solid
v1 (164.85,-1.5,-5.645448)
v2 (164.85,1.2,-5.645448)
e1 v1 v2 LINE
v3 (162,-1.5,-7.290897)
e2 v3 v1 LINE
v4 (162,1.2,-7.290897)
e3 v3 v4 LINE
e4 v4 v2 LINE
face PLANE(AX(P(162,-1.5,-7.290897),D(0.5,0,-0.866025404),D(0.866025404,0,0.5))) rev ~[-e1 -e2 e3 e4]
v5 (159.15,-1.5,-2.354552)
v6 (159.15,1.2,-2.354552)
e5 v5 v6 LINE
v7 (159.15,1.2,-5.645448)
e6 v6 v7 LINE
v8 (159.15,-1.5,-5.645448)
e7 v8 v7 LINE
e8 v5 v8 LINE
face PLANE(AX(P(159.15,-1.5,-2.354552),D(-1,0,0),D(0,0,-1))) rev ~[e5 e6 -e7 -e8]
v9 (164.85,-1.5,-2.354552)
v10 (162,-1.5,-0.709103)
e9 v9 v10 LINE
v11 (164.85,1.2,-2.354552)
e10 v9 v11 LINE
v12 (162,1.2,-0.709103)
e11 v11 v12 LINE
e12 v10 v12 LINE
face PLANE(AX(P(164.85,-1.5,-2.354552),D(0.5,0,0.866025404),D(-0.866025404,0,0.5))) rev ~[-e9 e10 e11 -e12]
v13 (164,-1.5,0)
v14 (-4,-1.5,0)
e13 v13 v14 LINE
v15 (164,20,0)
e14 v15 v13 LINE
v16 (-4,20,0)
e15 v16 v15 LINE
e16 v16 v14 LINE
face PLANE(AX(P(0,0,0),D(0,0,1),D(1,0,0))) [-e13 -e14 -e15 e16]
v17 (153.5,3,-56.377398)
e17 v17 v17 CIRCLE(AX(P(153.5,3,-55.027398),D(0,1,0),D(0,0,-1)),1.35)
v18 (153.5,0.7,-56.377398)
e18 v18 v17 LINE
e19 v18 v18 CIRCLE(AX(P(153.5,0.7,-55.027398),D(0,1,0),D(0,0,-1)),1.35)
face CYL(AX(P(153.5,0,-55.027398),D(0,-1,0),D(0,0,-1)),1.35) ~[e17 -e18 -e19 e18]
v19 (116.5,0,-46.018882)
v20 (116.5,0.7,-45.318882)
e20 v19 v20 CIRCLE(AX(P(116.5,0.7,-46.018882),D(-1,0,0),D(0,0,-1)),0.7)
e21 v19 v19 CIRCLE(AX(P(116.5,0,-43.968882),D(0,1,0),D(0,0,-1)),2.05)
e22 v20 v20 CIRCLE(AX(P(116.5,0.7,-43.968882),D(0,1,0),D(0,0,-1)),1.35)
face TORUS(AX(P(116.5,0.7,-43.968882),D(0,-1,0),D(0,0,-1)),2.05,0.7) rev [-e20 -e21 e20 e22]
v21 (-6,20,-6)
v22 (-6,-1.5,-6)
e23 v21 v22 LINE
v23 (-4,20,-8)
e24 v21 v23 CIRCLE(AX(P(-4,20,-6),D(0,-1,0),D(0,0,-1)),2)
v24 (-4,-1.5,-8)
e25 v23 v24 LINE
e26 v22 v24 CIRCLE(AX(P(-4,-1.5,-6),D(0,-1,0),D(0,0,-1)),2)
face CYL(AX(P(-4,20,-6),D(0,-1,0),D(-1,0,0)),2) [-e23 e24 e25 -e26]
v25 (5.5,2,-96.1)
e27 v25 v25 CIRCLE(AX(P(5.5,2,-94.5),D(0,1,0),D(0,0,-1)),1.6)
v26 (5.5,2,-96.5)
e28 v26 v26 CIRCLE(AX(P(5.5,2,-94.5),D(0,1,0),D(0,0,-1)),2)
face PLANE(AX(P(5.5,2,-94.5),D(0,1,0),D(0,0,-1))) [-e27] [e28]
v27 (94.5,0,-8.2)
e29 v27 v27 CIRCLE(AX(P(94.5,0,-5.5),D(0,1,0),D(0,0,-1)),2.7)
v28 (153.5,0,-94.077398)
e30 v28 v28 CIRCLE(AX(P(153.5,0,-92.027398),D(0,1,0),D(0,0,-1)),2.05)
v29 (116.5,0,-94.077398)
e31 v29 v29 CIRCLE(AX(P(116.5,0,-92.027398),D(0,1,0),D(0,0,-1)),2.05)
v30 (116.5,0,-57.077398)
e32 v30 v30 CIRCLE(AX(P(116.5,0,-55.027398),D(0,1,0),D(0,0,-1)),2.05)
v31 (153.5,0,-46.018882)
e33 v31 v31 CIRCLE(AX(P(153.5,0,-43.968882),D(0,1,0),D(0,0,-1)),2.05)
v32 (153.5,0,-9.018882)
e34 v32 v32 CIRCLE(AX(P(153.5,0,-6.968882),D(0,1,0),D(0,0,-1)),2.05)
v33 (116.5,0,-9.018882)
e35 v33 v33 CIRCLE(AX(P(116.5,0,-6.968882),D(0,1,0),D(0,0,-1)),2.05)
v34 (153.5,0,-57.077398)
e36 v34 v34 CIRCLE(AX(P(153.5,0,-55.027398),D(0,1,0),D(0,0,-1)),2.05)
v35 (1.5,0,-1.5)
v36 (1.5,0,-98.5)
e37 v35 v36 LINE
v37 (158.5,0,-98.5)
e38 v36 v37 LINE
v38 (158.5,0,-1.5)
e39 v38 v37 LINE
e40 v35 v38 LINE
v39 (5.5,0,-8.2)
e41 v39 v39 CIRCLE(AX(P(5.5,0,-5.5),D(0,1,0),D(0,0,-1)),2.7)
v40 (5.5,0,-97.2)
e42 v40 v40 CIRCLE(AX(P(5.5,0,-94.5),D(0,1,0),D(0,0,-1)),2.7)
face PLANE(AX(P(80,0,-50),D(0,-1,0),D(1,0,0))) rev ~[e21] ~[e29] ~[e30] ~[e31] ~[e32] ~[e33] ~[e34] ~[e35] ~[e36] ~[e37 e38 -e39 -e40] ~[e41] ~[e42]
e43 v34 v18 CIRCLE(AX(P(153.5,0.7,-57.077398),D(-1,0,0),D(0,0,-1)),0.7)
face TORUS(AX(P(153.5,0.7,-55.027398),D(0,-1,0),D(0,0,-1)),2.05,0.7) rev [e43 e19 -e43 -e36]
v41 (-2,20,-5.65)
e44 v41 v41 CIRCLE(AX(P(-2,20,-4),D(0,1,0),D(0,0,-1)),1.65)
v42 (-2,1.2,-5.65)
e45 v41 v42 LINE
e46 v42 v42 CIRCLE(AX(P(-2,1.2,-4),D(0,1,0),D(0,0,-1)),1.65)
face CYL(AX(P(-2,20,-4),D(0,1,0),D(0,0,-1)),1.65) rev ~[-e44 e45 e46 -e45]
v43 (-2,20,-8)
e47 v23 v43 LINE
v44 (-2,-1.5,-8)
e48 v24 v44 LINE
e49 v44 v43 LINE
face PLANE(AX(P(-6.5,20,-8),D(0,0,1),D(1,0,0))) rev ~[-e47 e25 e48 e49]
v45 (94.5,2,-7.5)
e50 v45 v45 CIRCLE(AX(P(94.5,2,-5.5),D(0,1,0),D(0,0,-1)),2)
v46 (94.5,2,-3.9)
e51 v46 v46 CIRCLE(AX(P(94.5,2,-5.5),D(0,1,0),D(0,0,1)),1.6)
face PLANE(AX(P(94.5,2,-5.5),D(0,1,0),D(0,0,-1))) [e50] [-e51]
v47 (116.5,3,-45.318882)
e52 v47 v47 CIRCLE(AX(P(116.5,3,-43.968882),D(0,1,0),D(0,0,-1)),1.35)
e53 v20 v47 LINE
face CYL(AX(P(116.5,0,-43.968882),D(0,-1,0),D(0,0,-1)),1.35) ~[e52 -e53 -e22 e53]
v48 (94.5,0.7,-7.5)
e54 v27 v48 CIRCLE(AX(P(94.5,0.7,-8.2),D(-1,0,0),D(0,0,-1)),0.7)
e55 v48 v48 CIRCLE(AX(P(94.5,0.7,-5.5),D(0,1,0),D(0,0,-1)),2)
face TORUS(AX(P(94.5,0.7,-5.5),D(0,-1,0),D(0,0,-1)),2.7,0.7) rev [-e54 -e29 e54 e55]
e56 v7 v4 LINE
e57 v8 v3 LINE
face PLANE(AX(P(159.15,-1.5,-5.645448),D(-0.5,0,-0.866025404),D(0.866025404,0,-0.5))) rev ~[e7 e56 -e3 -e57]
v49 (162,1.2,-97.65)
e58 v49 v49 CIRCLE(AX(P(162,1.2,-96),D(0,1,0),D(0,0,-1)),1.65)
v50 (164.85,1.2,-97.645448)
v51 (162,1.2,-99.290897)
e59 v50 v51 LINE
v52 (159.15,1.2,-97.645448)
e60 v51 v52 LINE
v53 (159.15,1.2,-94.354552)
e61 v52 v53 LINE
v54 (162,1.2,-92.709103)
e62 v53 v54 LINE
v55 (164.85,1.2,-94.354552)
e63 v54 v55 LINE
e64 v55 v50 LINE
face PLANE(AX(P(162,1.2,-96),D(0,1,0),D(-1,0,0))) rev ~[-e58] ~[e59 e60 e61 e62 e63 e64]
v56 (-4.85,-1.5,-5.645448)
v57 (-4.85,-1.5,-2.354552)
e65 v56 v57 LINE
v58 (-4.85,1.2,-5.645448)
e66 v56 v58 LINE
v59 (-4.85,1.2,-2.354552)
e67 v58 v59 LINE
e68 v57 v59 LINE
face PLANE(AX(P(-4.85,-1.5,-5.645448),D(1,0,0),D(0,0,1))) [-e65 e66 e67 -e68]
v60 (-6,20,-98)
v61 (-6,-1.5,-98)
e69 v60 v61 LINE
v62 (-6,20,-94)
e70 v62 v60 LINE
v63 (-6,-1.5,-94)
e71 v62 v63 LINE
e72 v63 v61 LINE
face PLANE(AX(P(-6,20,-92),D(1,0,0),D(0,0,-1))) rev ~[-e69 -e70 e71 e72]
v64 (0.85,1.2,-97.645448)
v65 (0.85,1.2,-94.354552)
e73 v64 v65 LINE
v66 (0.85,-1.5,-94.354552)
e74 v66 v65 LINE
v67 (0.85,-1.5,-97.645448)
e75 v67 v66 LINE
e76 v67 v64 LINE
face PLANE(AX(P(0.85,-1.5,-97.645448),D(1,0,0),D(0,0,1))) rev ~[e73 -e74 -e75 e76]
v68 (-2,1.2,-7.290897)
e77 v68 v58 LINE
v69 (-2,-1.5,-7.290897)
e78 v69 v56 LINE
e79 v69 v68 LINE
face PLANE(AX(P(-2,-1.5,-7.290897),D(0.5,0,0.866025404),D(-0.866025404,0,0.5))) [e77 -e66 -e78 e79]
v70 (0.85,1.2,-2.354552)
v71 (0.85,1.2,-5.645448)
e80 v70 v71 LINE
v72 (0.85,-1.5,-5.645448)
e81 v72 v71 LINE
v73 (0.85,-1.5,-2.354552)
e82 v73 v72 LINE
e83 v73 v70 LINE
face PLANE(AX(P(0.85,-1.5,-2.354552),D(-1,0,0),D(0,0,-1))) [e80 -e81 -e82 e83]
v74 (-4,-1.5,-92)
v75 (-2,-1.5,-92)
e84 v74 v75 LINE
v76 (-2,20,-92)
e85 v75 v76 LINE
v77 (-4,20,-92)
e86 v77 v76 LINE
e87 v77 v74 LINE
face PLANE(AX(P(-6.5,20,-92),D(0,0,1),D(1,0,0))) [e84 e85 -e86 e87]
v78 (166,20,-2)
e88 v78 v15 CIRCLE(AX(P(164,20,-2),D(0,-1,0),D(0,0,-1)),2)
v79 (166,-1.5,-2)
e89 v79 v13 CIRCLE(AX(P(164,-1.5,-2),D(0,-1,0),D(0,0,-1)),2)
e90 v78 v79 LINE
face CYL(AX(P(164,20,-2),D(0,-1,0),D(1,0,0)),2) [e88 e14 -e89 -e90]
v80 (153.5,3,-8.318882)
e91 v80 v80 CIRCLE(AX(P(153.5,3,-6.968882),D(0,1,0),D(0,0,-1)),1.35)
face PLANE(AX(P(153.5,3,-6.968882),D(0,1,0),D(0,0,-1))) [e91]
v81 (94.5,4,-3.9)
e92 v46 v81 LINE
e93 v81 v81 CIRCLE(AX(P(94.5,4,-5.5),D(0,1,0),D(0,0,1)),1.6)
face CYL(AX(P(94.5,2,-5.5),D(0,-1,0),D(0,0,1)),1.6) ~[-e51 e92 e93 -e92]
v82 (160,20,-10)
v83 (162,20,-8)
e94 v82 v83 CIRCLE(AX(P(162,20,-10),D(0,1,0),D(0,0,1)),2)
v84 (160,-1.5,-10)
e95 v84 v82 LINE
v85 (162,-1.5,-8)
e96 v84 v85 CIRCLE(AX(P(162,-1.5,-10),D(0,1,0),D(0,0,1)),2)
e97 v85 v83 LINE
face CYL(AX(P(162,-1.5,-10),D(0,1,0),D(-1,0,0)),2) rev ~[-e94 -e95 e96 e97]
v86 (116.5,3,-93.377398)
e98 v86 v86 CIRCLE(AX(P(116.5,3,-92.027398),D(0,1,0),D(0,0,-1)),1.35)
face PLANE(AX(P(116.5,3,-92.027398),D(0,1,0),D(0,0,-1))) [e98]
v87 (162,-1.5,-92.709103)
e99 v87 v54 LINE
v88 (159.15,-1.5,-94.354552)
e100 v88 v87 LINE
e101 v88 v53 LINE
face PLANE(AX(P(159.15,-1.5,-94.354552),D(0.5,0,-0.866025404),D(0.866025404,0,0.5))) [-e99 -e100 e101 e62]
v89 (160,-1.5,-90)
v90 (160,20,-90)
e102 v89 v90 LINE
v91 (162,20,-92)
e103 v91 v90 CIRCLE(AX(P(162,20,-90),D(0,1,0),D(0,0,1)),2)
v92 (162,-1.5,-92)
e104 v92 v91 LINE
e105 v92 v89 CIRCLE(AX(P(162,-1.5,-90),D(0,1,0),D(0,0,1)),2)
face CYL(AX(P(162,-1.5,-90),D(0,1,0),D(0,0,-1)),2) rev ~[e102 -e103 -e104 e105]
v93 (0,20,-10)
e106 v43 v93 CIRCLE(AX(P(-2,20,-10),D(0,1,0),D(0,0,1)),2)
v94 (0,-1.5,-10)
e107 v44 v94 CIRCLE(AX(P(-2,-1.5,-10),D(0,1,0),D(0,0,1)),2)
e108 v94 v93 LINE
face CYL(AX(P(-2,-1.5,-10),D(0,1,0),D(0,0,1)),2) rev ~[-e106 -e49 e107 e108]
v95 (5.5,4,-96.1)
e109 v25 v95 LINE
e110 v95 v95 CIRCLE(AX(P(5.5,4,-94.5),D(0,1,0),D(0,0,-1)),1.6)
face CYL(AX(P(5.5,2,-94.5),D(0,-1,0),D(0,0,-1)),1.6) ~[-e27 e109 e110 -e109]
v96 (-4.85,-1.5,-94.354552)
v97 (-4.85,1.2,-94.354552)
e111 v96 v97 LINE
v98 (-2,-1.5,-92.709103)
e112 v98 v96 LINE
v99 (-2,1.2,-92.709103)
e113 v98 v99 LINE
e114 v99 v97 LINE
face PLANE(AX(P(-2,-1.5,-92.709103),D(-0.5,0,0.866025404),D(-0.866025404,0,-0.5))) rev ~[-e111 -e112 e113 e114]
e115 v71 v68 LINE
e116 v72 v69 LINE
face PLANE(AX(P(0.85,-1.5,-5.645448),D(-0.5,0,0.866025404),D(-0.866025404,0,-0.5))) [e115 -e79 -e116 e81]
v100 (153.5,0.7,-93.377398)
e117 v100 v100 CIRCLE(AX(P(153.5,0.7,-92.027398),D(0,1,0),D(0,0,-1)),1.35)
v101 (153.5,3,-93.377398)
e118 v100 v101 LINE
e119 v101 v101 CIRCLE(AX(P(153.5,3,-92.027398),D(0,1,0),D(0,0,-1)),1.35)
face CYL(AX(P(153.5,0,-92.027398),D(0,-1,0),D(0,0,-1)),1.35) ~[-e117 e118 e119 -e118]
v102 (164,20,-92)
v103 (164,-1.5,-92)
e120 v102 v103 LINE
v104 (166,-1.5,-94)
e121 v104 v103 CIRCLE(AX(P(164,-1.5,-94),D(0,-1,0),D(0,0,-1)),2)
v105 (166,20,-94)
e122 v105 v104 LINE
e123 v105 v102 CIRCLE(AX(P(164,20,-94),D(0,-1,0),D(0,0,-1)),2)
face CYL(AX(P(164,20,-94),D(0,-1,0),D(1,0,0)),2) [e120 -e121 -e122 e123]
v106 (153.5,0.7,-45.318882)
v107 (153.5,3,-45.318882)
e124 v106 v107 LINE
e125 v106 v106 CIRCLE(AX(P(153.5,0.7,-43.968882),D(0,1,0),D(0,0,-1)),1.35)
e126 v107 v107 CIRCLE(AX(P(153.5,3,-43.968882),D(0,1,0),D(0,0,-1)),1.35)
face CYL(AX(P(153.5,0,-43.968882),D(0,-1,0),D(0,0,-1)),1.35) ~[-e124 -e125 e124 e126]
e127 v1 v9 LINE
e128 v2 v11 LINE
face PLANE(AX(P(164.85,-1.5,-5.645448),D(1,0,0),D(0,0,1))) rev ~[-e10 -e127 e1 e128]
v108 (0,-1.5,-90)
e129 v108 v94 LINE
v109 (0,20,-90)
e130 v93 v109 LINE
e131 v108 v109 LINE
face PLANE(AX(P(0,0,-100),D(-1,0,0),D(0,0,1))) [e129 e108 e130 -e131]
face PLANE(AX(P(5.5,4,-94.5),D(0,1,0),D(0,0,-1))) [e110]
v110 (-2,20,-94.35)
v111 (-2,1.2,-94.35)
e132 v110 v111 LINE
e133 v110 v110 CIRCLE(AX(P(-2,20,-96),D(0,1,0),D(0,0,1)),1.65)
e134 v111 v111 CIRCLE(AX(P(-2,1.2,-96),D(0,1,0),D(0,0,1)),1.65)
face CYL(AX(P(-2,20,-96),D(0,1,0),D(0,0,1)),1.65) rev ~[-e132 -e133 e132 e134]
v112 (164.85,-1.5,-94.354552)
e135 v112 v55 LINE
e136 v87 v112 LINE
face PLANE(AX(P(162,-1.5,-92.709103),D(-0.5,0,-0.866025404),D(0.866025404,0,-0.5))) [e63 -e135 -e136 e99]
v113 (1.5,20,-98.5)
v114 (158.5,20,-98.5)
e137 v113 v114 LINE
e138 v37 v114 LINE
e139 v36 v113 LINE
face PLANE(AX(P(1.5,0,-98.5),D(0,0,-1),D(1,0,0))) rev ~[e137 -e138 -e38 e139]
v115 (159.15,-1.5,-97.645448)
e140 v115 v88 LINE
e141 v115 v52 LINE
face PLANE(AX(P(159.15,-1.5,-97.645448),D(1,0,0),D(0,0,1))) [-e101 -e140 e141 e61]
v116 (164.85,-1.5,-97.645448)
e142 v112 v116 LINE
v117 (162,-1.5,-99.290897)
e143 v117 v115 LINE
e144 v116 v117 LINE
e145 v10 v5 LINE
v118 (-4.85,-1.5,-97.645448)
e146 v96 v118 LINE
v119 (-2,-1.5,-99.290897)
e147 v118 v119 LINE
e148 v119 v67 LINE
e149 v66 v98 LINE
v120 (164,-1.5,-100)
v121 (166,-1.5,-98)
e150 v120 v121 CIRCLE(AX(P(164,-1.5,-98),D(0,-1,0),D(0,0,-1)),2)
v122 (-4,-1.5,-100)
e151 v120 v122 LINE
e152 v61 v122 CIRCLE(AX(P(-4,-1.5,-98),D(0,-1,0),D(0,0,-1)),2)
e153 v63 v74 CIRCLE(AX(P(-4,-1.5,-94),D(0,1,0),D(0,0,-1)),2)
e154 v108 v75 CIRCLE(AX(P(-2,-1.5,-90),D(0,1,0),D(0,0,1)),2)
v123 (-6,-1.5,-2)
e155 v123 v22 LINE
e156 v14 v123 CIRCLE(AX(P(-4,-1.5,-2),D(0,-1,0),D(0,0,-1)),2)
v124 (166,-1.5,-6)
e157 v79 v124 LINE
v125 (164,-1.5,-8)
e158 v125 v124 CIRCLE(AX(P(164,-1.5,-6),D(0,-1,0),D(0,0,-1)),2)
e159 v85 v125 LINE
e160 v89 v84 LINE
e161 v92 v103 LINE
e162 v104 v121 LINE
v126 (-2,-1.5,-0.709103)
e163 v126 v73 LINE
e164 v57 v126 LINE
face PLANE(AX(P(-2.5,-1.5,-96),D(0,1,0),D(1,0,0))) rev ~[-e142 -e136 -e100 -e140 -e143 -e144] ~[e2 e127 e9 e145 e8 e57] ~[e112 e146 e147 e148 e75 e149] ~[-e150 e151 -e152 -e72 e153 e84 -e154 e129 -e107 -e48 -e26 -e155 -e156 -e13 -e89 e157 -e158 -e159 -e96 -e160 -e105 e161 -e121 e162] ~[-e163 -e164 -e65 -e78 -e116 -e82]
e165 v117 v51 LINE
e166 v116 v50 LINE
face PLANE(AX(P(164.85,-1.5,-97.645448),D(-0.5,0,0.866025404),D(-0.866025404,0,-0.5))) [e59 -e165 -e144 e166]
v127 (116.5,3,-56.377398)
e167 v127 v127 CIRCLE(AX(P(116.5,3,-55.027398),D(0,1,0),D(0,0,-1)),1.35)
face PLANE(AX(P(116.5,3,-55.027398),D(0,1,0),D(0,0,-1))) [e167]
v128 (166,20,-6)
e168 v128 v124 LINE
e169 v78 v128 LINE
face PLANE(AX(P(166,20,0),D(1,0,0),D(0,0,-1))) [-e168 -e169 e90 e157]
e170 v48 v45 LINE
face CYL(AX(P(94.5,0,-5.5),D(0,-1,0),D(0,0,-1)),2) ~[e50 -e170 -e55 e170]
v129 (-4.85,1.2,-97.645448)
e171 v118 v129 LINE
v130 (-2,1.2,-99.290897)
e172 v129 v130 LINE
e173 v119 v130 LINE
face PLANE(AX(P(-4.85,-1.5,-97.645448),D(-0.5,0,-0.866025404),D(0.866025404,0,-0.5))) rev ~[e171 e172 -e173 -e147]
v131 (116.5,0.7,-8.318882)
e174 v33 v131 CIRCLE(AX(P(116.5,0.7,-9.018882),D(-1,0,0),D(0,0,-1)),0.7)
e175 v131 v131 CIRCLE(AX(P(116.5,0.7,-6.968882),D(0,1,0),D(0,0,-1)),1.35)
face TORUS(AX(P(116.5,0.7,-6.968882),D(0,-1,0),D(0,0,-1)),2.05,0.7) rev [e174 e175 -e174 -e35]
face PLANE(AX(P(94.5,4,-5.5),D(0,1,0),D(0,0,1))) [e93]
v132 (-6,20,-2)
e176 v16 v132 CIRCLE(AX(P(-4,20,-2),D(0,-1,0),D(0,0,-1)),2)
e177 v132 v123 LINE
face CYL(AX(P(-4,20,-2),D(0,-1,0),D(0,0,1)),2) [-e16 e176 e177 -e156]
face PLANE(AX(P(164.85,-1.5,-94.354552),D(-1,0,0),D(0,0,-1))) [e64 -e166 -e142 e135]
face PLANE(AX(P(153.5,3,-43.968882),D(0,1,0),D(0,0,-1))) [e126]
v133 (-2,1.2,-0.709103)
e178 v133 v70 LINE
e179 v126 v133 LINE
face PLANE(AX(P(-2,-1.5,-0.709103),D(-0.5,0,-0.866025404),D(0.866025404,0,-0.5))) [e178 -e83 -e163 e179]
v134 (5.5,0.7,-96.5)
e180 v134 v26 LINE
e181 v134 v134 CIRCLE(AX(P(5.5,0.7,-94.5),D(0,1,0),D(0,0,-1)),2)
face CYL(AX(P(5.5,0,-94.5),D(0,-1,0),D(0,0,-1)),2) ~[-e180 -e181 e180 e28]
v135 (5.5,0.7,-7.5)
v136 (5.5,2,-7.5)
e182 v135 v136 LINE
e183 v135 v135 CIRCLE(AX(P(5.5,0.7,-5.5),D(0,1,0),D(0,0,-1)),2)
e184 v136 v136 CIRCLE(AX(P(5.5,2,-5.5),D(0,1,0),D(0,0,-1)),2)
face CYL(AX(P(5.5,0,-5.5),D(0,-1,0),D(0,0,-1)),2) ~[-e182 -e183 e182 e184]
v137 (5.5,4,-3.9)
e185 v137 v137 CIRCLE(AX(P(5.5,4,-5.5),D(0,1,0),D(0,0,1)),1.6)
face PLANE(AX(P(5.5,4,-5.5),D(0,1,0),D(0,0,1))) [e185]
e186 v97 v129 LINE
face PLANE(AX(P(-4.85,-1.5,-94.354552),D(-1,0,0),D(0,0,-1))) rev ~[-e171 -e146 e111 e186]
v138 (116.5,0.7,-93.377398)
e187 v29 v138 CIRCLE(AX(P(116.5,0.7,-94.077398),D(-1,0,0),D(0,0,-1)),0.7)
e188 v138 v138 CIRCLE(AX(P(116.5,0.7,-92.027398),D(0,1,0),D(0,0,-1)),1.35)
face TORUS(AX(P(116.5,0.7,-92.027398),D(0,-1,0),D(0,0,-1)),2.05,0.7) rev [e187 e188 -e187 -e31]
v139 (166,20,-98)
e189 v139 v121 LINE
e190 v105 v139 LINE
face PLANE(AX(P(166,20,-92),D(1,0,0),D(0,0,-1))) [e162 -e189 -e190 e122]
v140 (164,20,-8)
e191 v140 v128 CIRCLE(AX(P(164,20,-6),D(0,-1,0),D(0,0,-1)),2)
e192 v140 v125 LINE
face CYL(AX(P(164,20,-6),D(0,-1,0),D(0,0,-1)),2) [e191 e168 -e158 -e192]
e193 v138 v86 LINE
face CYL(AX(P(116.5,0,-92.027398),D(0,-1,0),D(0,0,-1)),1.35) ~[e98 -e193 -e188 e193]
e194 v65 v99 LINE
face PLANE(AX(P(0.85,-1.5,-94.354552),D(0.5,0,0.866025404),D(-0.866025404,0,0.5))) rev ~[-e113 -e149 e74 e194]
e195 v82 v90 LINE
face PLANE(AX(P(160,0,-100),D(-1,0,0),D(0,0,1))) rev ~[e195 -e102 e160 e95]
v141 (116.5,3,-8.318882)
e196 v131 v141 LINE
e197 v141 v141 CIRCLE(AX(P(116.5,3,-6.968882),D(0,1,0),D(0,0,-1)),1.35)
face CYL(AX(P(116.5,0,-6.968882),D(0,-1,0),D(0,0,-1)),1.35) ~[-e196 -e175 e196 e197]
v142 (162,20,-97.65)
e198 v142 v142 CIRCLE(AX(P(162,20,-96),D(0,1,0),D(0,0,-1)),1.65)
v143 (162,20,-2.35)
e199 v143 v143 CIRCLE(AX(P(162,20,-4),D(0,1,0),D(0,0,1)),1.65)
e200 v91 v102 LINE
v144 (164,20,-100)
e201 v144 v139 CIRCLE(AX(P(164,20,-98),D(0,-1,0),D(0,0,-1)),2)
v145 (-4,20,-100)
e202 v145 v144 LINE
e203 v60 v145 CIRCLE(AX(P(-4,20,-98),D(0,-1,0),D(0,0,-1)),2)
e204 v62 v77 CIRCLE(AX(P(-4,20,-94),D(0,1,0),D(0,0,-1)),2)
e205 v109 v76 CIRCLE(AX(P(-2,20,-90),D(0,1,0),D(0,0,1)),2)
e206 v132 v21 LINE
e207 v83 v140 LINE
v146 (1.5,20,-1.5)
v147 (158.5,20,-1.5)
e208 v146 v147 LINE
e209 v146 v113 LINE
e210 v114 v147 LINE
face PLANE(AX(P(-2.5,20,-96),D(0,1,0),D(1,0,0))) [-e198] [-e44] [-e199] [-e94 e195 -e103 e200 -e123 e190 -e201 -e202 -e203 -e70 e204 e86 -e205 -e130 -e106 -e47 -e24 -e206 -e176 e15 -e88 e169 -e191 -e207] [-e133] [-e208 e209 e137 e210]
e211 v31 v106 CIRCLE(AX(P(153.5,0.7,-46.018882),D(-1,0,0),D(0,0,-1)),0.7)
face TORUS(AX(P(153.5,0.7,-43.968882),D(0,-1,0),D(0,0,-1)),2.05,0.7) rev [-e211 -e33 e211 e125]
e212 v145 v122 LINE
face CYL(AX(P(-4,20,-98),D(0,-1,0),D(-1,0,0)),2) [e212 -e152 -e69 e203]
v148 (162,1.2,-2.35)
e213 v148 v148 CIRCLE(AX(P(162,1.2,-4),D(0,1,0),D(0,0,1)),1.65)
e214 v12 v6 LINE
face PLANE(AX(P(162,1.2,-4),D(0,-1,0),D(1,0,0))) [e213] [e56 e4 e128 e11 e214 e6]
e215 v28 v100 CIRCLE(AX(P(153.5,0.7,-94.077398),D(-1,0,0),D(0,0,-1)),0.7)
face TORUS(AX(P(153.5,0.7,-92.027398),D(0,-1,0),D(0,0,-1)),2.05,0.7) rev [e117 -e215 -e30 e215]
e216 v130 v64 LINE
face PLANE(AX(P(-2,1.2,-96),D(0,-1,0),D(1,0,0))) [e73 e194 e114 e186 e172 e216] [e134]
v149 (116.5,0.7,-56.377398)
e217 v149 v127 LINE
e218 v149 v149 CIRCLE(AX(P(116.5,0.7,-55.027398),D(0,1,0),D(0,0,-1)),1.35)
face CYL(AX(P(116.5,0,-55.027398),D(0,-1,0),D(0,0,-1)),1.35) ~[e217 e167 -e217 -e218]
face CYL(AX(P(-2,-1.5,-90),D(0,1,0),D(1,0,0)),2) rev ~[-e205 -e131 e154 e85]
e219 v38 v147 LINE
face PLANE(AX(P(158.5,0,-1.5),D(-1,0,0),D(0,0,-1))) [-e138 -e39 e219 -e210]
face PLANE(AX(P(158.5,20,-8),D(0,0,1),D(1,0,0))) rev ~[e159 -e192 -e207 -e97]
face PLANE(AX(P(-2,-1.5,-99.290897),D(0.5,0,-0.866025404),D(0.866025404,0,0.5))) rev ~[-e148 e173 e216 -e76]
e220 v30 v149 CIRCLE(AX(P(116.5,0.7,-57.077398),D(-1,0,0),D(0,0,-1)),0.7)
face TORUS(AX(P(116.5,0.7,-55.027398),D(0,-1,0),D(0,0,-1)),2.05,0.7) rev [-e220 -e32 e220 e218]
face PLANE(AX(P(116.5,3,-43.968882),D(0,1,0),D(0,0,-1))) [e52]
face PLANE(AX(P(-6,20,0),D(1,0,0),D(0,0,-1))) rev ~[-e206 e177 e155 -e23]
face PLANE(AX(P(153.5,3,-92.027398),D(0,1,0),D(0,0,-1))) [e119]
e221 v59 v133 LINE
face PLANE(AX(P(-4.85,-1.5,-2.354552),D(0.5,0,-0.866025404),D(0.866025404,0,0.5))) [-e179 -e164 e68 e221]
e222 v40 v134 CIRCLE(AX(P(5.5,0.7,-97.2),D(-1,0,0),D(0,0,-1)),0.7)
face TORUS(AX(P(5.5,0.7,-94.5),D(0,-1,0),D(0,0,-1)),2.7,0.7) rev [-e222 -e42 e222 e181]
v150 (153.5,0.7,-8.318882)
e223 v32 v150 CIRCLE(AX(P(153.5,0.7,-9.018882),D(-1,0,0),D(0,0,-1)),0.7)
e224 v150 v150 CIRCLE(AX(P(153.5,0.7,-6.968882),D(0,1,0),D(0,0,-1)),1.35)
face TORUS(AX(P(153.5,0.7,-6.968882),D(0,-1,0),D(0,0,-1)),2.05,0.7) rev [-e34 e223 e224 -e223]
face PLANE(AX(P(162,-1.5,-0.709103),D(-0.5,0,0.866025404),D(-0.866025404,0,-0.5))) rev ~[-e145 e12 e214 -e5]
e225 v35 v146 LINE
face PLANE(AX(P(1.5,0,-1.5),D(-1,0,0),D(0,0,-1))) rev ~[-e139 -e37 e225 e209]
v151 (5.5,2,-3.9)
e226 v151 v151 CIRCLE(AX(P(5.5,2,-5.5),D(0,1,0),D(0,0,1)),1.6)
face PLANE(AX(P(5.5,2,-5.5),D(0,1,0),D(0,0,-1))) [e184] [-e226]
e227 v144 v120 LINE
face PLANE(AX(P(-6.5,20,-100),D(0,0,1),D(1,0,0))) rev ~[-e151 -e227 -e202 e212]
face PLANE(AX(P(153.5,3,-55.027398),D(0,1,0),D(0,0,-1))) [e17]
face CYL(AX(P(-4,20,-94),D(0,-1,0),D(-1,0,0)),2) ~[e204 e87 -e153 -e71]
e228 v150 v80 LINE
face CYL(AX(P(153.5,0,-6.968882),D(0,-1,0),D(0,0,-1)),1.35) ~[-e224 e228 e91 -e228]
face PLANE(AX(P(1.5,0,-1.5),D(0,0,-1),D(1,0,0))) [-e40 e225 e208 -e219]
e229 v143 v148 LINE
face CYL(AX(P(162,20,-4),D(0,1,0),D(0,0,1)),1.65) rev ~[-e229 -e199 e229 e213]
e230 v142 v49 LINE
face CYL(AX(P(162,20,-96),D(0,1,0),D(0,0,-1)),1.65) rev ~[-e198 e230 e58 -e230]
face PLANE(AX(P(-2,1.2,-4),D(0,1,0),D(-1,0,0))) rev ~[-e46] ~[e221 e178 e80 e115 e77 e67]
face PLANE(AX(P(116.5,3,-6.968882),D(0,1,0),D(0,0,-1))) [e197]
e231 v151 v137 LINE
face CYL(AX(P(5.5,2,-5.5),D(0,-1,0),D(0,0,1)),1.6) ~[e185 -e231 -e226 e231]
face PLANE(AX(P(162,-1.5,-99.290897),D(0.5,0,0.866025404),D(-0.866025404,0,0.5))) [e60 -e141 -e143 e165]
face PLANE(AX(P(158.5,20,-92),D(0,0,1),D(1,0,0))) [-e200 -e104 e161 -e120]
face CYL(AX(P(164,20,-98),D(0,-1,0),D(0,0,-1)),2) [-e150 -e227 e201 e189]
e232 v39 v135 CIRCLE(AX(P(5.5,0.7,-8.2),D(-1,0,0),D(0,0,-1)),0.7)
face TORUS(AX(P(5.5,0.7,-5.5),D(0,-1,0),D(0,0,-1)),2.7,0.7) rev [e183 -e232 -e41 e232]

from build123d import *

# Parameters (mm, degrees)
SKETCH1_W           = 160
SKETCH1_H           = 100
SKETCH1_W_2         = 157
SKETCH1_H_2         = 97
BOSS_EXTRUDE1_DEPTH = 20
SKETCH2_W           = 160
SKETCH2_H           = 100
BOSS_EXTRUDE2_DEPTH = 1.5
SKETCH3_R           = 2
BOSS_EXTRUDE3_DEPTH = 2
SKETCH4_R           = 1.6
BOSS_EXTRUDE4_DEPTH = 2
SKETCH5_R           = 1.35
BOSS_EXTRUDE5_DEPTH = 3
FILLET1_R           = 0.7
SKETCH8_W           = 8
SKETCH8_H           = 8
SKETCH8_R           = 1.65
BOSS_EXTRUDE7_DEPTH = 21.5
FILLET2_R           = 2
SKETCH9_W           = 0.5
SKETCH9_H           = 8
CUT_EXTRUDE1_DEPTH  = 22
FILLET3_R           = 2
CUT_EXTRUDE2_DEPTH  = 2.7


with BuildPart() as part:
    # Sketch1 → Boss-Extrude1 (new body)
    with BuildSketch(Plane(origin=(0, 0, 0), x_dir=(1, 0, 0), z_dir=(0, 1, 0))):
        with Locations((80, 50)):
            Rectangle(SKETCH1_W, SKETCH1_H)
        with Locations((80, 50)):
            Rectangle(SKETCH1_W_2, SKETCH1_H_2, mode=Mode.SUBTRACT)
    extrude(amount=BOSS_EXTRUDE1_DEPTH)

    # Sketch2 → Boss-Extrude2 (add)
    with BuildSketch(Plane.XZ):
        with Locations((80, -50)):
            Rectangle(SKETCH2_W, SKETCH2_H)
    extrude(amount=BOSS_EXTRUDE2_DEPTH)

    # Sketch3 → Boss-Extrude3 (add)
    with BuildSketch(Plane(origin=(0, 0, 0), x_dir=(1, 0, 0), z_dir=(0, 1, 0))):
        with Locations(Location((5.5, 5.5, 0), (0, 0, 90))):
            Circle(SKETCH3_R)
        with Locations(Location((5.5, 94.5, 0), (0, 0, 90))):
            Circle(SKETCH3_R)
        with Locations(Location((94.5, 5.5, 0), (0, 0, 90))):
            Circle(SKETCH3_R)
    extrude(amount=BOSS_EXTRUDE3_DEPTH)

    # Sketch4 → Boss-Extrude4 (add)
    with BuildSketch(Plane(origin=(0, 2, 0), x_dir=(1, 0, 0), z_dir=(0, 1, 0))):
        with Locations(Location((5.5, 5.5, 0), (0, 0, 270))):
            Circle(SKETCH4_R)
        with Locations(Location((94.5, 5.5, 0), (0, 0, 270))):
            Circle(SKETCH4_R)
        with Locations(Location((5.5, 94.5, 0), (0, 0, 90))):
            Circle(SKETCH4_R)
    extrude(amount=BOSS_EXTRUDE4_DEPTH)

    # Sketch5 → Boss-Extrude5 (add)
    with BuildSketch(Plane(origin=(0, 0, 0), x_dir=(1, 0, 0), z_dir=(0, 1, 0))):
        with Locations(Location((116.5, 92.027397936, 0), (0, 0, 90))):
            Circle(SKETCH5_R)
        with Locations(Location((116.5, 55.027397936, 0), (0, 0, 90))):
            Circle(SKETCH5_R)
        with Locations(Location((153.5, 55.027397936, 0), (0, 0, 90))):
            Circle(SKETCH5_R)
        with Locations(Location((153.5, 92.027397936, 0), (0, 0, 90))):
            Circle(SKETCH5_R)
        with Locations(Location((116.5, 43.968882069, 0), (0, 0, 90))):
            Circle(SKETCH5_R)
        with Locations(Location((153.5, 43.968882069, 0), (0, 0, 90))):
            Circle(SKETCH5_R)
        with Locations(Location((116.5, 6.968882069, 0), (0, 0, 90))):
            Circle(SKETCH5_R)
        with Locations(Location((153.5, 6.968882069, 0), (0, 0, 90))):
            Circle(SKETCH5_R)
    extrude(amount=BOSS_EXTRUDE5_DEPTH)

    # Fillet1
    fillet1_edges = [part.edges().sort_by_distance(p)[0] for p in [
        (5.5, 0, -3.5),
        (5.5, 0, -92.5),
        (94.5, 0, -3.5),
        (116.5, 0, -90.677397936),
        (116.5, 0, -53.677397936),
        (153.5, 0, -53.677397936),
        (153.5, 0, -90.677397936),
        (116.5, 0, -42.618882069),
        (153.5, 0, -42.618882069),
        (116.5, 0, -5.618882069),
        (153.5, 0, -5.618882069),
    ]]
    fillet(fillet1_edges, radius=FILLET1_R)

    # Sketch8 → Boss-Extrude7 (add)
    # profile 1 of 4: a face of its own
    with BuildSketch(Plane(origin=(0, 20, 0), x_dir=(1, 0, 0), z_dir=(0, 1, 0))):
        with Locations((-2.5, 96)):
            Rectangle(SKETCH8_W, SKETCH8_H)
        with Locations(Location((-2, 96, 0), (0, 0, 270))):
            Circle(SKETCH8_R, mode=Mode.SUBTRACT)
    # profile 2 of 4: a face of its own
    with BuildSketch(Plane(origin=(0, 20, 0), x_dir=(1, 0, 0), z_dir=(0, 1, 0))):
        with Locations((-2.5, 4)):
            Rectangle(SKETCH8_W, SKETCH8_H)
        with Locations(Location((-2, 4, 0), (0, 0, 90))):
            Circle(SKETCH8_R, mode=Mode.SUBTRACT)
    # profile 3 of 4: a face of its own
    with BuildSketch(Plane(origin=(0, 20, 0), x_dir=(1, 0, 0), z_dir=(0, 1, 0))):
        with Locations((162.5, 4)):
            Rectangle(SKETCH8_W, SKETCH8_H)
        with Locations(Location((162, 4, 0), (0, 0, 270))):
            Circle(SKETCH8_R, mode=Mode.SUBTRACT)
    # profile 4 of 4: a face of its own
    with BuildSketch(Plane(origin=(0, 20, 0), x_dir=(1, 0, 0), z_dir=(0, 1, 0))):
        with Locations((162.5, 96)):
            Rectangle(SKETCH8_W, SKETCH8_H)
        with Locations(Location((162, 96, 0), (0, 0, 90))):
            Circle(SKETCH8_R, mode=Mode.SUBTRACT)
    extrude(amount=-BOSS_EXTRUDE7_DEPTH)

    # Fillet2
    fillet2_edges = [part.edges().sort_by_distance(p)[0] for p in [
        (0, 9.25, -92),
        (160, 9.25, -8),
        (0, 9.25, -8),
        (160, 9.25, -92),
    ]]
    fillet(fillet2_edges, radius=FILLET2_R)

    # Sketch9 → Cut-Extrude1 (cut)
    with BuildSketch(Plane(origin=(0, 20, 0), x_dir=(1, 0, 0), z_dir=(0, 1, 0))):
        with Locations((-6.25, 96)):
            Rectangle(SKETCH9_W, SKETCH9_H)
        with Locations((-6.25, 4)):
            Rectangle(SKETCH9_W, SKETCH9_H)
        with Locations((166.25, 4)):
            Rectangle(SKETCH9_W, SKETCH9_H)
        with Locations((166.25, 96)):
            Rectangle(SKETCH9_W, SKETCH9_H)
    extrude(amount=-CUT_EXTRUDE1_DEPTH, mode=Mode.SUBTRACT)

    # Fillet3
    fillet3_edges = [part.edges().sort_by_distance(p)[0] for p in [
        (-6, 9.25, -8),
        (166, 9.25, -92),
        (166, 9.25, -100),
        (166, 9.25, 0),
        (166, 9.25, -8),
        (-6, 9.25, 0),
        (-6, 9.25, -100),
        (-6, 9.25, -92),
    ]]
    fillet(fillet3_edges, radius=FILLET3_R)

    # Sketch10 → Cut-Extrude2 (cut)
    with BuildSketch(Plane.XZ.offset(1.5)):
        Polygon((-2, -92.709103466), (-4.85, -94.354551733), (-4.85, -97.645448267), (-2, -99.290896534), (0.85, -97.645448267), (0.85, -94.354551733), align=None)
        Polygon((159.15, -94.354551733), (162, -92.709103466), (164.85, -94.354551733), (164.85, -97.645448267), (162, -99.290896534), (159.15, -97.645448267), align=None)
        Polygon((159.15, -2.354551733), (159.15, -5.645448267), (162, -7.290896534), (164.85, -5.645448267), (164.85, -2.354551733), (162, -0.709103466), align=None)
        Polygon((0.85, -5.645448267), (-2, -7.290896534), (-4.85, -5.645448267), (-4.85, -2.354551733), (-2, -0.709103466), (0.85, -2.354551733), align=None)
    extrude(amount=-CUT_EXTRUDE2_DEPTH, mode=Mode.SUBTRACT)


solid = part.part
